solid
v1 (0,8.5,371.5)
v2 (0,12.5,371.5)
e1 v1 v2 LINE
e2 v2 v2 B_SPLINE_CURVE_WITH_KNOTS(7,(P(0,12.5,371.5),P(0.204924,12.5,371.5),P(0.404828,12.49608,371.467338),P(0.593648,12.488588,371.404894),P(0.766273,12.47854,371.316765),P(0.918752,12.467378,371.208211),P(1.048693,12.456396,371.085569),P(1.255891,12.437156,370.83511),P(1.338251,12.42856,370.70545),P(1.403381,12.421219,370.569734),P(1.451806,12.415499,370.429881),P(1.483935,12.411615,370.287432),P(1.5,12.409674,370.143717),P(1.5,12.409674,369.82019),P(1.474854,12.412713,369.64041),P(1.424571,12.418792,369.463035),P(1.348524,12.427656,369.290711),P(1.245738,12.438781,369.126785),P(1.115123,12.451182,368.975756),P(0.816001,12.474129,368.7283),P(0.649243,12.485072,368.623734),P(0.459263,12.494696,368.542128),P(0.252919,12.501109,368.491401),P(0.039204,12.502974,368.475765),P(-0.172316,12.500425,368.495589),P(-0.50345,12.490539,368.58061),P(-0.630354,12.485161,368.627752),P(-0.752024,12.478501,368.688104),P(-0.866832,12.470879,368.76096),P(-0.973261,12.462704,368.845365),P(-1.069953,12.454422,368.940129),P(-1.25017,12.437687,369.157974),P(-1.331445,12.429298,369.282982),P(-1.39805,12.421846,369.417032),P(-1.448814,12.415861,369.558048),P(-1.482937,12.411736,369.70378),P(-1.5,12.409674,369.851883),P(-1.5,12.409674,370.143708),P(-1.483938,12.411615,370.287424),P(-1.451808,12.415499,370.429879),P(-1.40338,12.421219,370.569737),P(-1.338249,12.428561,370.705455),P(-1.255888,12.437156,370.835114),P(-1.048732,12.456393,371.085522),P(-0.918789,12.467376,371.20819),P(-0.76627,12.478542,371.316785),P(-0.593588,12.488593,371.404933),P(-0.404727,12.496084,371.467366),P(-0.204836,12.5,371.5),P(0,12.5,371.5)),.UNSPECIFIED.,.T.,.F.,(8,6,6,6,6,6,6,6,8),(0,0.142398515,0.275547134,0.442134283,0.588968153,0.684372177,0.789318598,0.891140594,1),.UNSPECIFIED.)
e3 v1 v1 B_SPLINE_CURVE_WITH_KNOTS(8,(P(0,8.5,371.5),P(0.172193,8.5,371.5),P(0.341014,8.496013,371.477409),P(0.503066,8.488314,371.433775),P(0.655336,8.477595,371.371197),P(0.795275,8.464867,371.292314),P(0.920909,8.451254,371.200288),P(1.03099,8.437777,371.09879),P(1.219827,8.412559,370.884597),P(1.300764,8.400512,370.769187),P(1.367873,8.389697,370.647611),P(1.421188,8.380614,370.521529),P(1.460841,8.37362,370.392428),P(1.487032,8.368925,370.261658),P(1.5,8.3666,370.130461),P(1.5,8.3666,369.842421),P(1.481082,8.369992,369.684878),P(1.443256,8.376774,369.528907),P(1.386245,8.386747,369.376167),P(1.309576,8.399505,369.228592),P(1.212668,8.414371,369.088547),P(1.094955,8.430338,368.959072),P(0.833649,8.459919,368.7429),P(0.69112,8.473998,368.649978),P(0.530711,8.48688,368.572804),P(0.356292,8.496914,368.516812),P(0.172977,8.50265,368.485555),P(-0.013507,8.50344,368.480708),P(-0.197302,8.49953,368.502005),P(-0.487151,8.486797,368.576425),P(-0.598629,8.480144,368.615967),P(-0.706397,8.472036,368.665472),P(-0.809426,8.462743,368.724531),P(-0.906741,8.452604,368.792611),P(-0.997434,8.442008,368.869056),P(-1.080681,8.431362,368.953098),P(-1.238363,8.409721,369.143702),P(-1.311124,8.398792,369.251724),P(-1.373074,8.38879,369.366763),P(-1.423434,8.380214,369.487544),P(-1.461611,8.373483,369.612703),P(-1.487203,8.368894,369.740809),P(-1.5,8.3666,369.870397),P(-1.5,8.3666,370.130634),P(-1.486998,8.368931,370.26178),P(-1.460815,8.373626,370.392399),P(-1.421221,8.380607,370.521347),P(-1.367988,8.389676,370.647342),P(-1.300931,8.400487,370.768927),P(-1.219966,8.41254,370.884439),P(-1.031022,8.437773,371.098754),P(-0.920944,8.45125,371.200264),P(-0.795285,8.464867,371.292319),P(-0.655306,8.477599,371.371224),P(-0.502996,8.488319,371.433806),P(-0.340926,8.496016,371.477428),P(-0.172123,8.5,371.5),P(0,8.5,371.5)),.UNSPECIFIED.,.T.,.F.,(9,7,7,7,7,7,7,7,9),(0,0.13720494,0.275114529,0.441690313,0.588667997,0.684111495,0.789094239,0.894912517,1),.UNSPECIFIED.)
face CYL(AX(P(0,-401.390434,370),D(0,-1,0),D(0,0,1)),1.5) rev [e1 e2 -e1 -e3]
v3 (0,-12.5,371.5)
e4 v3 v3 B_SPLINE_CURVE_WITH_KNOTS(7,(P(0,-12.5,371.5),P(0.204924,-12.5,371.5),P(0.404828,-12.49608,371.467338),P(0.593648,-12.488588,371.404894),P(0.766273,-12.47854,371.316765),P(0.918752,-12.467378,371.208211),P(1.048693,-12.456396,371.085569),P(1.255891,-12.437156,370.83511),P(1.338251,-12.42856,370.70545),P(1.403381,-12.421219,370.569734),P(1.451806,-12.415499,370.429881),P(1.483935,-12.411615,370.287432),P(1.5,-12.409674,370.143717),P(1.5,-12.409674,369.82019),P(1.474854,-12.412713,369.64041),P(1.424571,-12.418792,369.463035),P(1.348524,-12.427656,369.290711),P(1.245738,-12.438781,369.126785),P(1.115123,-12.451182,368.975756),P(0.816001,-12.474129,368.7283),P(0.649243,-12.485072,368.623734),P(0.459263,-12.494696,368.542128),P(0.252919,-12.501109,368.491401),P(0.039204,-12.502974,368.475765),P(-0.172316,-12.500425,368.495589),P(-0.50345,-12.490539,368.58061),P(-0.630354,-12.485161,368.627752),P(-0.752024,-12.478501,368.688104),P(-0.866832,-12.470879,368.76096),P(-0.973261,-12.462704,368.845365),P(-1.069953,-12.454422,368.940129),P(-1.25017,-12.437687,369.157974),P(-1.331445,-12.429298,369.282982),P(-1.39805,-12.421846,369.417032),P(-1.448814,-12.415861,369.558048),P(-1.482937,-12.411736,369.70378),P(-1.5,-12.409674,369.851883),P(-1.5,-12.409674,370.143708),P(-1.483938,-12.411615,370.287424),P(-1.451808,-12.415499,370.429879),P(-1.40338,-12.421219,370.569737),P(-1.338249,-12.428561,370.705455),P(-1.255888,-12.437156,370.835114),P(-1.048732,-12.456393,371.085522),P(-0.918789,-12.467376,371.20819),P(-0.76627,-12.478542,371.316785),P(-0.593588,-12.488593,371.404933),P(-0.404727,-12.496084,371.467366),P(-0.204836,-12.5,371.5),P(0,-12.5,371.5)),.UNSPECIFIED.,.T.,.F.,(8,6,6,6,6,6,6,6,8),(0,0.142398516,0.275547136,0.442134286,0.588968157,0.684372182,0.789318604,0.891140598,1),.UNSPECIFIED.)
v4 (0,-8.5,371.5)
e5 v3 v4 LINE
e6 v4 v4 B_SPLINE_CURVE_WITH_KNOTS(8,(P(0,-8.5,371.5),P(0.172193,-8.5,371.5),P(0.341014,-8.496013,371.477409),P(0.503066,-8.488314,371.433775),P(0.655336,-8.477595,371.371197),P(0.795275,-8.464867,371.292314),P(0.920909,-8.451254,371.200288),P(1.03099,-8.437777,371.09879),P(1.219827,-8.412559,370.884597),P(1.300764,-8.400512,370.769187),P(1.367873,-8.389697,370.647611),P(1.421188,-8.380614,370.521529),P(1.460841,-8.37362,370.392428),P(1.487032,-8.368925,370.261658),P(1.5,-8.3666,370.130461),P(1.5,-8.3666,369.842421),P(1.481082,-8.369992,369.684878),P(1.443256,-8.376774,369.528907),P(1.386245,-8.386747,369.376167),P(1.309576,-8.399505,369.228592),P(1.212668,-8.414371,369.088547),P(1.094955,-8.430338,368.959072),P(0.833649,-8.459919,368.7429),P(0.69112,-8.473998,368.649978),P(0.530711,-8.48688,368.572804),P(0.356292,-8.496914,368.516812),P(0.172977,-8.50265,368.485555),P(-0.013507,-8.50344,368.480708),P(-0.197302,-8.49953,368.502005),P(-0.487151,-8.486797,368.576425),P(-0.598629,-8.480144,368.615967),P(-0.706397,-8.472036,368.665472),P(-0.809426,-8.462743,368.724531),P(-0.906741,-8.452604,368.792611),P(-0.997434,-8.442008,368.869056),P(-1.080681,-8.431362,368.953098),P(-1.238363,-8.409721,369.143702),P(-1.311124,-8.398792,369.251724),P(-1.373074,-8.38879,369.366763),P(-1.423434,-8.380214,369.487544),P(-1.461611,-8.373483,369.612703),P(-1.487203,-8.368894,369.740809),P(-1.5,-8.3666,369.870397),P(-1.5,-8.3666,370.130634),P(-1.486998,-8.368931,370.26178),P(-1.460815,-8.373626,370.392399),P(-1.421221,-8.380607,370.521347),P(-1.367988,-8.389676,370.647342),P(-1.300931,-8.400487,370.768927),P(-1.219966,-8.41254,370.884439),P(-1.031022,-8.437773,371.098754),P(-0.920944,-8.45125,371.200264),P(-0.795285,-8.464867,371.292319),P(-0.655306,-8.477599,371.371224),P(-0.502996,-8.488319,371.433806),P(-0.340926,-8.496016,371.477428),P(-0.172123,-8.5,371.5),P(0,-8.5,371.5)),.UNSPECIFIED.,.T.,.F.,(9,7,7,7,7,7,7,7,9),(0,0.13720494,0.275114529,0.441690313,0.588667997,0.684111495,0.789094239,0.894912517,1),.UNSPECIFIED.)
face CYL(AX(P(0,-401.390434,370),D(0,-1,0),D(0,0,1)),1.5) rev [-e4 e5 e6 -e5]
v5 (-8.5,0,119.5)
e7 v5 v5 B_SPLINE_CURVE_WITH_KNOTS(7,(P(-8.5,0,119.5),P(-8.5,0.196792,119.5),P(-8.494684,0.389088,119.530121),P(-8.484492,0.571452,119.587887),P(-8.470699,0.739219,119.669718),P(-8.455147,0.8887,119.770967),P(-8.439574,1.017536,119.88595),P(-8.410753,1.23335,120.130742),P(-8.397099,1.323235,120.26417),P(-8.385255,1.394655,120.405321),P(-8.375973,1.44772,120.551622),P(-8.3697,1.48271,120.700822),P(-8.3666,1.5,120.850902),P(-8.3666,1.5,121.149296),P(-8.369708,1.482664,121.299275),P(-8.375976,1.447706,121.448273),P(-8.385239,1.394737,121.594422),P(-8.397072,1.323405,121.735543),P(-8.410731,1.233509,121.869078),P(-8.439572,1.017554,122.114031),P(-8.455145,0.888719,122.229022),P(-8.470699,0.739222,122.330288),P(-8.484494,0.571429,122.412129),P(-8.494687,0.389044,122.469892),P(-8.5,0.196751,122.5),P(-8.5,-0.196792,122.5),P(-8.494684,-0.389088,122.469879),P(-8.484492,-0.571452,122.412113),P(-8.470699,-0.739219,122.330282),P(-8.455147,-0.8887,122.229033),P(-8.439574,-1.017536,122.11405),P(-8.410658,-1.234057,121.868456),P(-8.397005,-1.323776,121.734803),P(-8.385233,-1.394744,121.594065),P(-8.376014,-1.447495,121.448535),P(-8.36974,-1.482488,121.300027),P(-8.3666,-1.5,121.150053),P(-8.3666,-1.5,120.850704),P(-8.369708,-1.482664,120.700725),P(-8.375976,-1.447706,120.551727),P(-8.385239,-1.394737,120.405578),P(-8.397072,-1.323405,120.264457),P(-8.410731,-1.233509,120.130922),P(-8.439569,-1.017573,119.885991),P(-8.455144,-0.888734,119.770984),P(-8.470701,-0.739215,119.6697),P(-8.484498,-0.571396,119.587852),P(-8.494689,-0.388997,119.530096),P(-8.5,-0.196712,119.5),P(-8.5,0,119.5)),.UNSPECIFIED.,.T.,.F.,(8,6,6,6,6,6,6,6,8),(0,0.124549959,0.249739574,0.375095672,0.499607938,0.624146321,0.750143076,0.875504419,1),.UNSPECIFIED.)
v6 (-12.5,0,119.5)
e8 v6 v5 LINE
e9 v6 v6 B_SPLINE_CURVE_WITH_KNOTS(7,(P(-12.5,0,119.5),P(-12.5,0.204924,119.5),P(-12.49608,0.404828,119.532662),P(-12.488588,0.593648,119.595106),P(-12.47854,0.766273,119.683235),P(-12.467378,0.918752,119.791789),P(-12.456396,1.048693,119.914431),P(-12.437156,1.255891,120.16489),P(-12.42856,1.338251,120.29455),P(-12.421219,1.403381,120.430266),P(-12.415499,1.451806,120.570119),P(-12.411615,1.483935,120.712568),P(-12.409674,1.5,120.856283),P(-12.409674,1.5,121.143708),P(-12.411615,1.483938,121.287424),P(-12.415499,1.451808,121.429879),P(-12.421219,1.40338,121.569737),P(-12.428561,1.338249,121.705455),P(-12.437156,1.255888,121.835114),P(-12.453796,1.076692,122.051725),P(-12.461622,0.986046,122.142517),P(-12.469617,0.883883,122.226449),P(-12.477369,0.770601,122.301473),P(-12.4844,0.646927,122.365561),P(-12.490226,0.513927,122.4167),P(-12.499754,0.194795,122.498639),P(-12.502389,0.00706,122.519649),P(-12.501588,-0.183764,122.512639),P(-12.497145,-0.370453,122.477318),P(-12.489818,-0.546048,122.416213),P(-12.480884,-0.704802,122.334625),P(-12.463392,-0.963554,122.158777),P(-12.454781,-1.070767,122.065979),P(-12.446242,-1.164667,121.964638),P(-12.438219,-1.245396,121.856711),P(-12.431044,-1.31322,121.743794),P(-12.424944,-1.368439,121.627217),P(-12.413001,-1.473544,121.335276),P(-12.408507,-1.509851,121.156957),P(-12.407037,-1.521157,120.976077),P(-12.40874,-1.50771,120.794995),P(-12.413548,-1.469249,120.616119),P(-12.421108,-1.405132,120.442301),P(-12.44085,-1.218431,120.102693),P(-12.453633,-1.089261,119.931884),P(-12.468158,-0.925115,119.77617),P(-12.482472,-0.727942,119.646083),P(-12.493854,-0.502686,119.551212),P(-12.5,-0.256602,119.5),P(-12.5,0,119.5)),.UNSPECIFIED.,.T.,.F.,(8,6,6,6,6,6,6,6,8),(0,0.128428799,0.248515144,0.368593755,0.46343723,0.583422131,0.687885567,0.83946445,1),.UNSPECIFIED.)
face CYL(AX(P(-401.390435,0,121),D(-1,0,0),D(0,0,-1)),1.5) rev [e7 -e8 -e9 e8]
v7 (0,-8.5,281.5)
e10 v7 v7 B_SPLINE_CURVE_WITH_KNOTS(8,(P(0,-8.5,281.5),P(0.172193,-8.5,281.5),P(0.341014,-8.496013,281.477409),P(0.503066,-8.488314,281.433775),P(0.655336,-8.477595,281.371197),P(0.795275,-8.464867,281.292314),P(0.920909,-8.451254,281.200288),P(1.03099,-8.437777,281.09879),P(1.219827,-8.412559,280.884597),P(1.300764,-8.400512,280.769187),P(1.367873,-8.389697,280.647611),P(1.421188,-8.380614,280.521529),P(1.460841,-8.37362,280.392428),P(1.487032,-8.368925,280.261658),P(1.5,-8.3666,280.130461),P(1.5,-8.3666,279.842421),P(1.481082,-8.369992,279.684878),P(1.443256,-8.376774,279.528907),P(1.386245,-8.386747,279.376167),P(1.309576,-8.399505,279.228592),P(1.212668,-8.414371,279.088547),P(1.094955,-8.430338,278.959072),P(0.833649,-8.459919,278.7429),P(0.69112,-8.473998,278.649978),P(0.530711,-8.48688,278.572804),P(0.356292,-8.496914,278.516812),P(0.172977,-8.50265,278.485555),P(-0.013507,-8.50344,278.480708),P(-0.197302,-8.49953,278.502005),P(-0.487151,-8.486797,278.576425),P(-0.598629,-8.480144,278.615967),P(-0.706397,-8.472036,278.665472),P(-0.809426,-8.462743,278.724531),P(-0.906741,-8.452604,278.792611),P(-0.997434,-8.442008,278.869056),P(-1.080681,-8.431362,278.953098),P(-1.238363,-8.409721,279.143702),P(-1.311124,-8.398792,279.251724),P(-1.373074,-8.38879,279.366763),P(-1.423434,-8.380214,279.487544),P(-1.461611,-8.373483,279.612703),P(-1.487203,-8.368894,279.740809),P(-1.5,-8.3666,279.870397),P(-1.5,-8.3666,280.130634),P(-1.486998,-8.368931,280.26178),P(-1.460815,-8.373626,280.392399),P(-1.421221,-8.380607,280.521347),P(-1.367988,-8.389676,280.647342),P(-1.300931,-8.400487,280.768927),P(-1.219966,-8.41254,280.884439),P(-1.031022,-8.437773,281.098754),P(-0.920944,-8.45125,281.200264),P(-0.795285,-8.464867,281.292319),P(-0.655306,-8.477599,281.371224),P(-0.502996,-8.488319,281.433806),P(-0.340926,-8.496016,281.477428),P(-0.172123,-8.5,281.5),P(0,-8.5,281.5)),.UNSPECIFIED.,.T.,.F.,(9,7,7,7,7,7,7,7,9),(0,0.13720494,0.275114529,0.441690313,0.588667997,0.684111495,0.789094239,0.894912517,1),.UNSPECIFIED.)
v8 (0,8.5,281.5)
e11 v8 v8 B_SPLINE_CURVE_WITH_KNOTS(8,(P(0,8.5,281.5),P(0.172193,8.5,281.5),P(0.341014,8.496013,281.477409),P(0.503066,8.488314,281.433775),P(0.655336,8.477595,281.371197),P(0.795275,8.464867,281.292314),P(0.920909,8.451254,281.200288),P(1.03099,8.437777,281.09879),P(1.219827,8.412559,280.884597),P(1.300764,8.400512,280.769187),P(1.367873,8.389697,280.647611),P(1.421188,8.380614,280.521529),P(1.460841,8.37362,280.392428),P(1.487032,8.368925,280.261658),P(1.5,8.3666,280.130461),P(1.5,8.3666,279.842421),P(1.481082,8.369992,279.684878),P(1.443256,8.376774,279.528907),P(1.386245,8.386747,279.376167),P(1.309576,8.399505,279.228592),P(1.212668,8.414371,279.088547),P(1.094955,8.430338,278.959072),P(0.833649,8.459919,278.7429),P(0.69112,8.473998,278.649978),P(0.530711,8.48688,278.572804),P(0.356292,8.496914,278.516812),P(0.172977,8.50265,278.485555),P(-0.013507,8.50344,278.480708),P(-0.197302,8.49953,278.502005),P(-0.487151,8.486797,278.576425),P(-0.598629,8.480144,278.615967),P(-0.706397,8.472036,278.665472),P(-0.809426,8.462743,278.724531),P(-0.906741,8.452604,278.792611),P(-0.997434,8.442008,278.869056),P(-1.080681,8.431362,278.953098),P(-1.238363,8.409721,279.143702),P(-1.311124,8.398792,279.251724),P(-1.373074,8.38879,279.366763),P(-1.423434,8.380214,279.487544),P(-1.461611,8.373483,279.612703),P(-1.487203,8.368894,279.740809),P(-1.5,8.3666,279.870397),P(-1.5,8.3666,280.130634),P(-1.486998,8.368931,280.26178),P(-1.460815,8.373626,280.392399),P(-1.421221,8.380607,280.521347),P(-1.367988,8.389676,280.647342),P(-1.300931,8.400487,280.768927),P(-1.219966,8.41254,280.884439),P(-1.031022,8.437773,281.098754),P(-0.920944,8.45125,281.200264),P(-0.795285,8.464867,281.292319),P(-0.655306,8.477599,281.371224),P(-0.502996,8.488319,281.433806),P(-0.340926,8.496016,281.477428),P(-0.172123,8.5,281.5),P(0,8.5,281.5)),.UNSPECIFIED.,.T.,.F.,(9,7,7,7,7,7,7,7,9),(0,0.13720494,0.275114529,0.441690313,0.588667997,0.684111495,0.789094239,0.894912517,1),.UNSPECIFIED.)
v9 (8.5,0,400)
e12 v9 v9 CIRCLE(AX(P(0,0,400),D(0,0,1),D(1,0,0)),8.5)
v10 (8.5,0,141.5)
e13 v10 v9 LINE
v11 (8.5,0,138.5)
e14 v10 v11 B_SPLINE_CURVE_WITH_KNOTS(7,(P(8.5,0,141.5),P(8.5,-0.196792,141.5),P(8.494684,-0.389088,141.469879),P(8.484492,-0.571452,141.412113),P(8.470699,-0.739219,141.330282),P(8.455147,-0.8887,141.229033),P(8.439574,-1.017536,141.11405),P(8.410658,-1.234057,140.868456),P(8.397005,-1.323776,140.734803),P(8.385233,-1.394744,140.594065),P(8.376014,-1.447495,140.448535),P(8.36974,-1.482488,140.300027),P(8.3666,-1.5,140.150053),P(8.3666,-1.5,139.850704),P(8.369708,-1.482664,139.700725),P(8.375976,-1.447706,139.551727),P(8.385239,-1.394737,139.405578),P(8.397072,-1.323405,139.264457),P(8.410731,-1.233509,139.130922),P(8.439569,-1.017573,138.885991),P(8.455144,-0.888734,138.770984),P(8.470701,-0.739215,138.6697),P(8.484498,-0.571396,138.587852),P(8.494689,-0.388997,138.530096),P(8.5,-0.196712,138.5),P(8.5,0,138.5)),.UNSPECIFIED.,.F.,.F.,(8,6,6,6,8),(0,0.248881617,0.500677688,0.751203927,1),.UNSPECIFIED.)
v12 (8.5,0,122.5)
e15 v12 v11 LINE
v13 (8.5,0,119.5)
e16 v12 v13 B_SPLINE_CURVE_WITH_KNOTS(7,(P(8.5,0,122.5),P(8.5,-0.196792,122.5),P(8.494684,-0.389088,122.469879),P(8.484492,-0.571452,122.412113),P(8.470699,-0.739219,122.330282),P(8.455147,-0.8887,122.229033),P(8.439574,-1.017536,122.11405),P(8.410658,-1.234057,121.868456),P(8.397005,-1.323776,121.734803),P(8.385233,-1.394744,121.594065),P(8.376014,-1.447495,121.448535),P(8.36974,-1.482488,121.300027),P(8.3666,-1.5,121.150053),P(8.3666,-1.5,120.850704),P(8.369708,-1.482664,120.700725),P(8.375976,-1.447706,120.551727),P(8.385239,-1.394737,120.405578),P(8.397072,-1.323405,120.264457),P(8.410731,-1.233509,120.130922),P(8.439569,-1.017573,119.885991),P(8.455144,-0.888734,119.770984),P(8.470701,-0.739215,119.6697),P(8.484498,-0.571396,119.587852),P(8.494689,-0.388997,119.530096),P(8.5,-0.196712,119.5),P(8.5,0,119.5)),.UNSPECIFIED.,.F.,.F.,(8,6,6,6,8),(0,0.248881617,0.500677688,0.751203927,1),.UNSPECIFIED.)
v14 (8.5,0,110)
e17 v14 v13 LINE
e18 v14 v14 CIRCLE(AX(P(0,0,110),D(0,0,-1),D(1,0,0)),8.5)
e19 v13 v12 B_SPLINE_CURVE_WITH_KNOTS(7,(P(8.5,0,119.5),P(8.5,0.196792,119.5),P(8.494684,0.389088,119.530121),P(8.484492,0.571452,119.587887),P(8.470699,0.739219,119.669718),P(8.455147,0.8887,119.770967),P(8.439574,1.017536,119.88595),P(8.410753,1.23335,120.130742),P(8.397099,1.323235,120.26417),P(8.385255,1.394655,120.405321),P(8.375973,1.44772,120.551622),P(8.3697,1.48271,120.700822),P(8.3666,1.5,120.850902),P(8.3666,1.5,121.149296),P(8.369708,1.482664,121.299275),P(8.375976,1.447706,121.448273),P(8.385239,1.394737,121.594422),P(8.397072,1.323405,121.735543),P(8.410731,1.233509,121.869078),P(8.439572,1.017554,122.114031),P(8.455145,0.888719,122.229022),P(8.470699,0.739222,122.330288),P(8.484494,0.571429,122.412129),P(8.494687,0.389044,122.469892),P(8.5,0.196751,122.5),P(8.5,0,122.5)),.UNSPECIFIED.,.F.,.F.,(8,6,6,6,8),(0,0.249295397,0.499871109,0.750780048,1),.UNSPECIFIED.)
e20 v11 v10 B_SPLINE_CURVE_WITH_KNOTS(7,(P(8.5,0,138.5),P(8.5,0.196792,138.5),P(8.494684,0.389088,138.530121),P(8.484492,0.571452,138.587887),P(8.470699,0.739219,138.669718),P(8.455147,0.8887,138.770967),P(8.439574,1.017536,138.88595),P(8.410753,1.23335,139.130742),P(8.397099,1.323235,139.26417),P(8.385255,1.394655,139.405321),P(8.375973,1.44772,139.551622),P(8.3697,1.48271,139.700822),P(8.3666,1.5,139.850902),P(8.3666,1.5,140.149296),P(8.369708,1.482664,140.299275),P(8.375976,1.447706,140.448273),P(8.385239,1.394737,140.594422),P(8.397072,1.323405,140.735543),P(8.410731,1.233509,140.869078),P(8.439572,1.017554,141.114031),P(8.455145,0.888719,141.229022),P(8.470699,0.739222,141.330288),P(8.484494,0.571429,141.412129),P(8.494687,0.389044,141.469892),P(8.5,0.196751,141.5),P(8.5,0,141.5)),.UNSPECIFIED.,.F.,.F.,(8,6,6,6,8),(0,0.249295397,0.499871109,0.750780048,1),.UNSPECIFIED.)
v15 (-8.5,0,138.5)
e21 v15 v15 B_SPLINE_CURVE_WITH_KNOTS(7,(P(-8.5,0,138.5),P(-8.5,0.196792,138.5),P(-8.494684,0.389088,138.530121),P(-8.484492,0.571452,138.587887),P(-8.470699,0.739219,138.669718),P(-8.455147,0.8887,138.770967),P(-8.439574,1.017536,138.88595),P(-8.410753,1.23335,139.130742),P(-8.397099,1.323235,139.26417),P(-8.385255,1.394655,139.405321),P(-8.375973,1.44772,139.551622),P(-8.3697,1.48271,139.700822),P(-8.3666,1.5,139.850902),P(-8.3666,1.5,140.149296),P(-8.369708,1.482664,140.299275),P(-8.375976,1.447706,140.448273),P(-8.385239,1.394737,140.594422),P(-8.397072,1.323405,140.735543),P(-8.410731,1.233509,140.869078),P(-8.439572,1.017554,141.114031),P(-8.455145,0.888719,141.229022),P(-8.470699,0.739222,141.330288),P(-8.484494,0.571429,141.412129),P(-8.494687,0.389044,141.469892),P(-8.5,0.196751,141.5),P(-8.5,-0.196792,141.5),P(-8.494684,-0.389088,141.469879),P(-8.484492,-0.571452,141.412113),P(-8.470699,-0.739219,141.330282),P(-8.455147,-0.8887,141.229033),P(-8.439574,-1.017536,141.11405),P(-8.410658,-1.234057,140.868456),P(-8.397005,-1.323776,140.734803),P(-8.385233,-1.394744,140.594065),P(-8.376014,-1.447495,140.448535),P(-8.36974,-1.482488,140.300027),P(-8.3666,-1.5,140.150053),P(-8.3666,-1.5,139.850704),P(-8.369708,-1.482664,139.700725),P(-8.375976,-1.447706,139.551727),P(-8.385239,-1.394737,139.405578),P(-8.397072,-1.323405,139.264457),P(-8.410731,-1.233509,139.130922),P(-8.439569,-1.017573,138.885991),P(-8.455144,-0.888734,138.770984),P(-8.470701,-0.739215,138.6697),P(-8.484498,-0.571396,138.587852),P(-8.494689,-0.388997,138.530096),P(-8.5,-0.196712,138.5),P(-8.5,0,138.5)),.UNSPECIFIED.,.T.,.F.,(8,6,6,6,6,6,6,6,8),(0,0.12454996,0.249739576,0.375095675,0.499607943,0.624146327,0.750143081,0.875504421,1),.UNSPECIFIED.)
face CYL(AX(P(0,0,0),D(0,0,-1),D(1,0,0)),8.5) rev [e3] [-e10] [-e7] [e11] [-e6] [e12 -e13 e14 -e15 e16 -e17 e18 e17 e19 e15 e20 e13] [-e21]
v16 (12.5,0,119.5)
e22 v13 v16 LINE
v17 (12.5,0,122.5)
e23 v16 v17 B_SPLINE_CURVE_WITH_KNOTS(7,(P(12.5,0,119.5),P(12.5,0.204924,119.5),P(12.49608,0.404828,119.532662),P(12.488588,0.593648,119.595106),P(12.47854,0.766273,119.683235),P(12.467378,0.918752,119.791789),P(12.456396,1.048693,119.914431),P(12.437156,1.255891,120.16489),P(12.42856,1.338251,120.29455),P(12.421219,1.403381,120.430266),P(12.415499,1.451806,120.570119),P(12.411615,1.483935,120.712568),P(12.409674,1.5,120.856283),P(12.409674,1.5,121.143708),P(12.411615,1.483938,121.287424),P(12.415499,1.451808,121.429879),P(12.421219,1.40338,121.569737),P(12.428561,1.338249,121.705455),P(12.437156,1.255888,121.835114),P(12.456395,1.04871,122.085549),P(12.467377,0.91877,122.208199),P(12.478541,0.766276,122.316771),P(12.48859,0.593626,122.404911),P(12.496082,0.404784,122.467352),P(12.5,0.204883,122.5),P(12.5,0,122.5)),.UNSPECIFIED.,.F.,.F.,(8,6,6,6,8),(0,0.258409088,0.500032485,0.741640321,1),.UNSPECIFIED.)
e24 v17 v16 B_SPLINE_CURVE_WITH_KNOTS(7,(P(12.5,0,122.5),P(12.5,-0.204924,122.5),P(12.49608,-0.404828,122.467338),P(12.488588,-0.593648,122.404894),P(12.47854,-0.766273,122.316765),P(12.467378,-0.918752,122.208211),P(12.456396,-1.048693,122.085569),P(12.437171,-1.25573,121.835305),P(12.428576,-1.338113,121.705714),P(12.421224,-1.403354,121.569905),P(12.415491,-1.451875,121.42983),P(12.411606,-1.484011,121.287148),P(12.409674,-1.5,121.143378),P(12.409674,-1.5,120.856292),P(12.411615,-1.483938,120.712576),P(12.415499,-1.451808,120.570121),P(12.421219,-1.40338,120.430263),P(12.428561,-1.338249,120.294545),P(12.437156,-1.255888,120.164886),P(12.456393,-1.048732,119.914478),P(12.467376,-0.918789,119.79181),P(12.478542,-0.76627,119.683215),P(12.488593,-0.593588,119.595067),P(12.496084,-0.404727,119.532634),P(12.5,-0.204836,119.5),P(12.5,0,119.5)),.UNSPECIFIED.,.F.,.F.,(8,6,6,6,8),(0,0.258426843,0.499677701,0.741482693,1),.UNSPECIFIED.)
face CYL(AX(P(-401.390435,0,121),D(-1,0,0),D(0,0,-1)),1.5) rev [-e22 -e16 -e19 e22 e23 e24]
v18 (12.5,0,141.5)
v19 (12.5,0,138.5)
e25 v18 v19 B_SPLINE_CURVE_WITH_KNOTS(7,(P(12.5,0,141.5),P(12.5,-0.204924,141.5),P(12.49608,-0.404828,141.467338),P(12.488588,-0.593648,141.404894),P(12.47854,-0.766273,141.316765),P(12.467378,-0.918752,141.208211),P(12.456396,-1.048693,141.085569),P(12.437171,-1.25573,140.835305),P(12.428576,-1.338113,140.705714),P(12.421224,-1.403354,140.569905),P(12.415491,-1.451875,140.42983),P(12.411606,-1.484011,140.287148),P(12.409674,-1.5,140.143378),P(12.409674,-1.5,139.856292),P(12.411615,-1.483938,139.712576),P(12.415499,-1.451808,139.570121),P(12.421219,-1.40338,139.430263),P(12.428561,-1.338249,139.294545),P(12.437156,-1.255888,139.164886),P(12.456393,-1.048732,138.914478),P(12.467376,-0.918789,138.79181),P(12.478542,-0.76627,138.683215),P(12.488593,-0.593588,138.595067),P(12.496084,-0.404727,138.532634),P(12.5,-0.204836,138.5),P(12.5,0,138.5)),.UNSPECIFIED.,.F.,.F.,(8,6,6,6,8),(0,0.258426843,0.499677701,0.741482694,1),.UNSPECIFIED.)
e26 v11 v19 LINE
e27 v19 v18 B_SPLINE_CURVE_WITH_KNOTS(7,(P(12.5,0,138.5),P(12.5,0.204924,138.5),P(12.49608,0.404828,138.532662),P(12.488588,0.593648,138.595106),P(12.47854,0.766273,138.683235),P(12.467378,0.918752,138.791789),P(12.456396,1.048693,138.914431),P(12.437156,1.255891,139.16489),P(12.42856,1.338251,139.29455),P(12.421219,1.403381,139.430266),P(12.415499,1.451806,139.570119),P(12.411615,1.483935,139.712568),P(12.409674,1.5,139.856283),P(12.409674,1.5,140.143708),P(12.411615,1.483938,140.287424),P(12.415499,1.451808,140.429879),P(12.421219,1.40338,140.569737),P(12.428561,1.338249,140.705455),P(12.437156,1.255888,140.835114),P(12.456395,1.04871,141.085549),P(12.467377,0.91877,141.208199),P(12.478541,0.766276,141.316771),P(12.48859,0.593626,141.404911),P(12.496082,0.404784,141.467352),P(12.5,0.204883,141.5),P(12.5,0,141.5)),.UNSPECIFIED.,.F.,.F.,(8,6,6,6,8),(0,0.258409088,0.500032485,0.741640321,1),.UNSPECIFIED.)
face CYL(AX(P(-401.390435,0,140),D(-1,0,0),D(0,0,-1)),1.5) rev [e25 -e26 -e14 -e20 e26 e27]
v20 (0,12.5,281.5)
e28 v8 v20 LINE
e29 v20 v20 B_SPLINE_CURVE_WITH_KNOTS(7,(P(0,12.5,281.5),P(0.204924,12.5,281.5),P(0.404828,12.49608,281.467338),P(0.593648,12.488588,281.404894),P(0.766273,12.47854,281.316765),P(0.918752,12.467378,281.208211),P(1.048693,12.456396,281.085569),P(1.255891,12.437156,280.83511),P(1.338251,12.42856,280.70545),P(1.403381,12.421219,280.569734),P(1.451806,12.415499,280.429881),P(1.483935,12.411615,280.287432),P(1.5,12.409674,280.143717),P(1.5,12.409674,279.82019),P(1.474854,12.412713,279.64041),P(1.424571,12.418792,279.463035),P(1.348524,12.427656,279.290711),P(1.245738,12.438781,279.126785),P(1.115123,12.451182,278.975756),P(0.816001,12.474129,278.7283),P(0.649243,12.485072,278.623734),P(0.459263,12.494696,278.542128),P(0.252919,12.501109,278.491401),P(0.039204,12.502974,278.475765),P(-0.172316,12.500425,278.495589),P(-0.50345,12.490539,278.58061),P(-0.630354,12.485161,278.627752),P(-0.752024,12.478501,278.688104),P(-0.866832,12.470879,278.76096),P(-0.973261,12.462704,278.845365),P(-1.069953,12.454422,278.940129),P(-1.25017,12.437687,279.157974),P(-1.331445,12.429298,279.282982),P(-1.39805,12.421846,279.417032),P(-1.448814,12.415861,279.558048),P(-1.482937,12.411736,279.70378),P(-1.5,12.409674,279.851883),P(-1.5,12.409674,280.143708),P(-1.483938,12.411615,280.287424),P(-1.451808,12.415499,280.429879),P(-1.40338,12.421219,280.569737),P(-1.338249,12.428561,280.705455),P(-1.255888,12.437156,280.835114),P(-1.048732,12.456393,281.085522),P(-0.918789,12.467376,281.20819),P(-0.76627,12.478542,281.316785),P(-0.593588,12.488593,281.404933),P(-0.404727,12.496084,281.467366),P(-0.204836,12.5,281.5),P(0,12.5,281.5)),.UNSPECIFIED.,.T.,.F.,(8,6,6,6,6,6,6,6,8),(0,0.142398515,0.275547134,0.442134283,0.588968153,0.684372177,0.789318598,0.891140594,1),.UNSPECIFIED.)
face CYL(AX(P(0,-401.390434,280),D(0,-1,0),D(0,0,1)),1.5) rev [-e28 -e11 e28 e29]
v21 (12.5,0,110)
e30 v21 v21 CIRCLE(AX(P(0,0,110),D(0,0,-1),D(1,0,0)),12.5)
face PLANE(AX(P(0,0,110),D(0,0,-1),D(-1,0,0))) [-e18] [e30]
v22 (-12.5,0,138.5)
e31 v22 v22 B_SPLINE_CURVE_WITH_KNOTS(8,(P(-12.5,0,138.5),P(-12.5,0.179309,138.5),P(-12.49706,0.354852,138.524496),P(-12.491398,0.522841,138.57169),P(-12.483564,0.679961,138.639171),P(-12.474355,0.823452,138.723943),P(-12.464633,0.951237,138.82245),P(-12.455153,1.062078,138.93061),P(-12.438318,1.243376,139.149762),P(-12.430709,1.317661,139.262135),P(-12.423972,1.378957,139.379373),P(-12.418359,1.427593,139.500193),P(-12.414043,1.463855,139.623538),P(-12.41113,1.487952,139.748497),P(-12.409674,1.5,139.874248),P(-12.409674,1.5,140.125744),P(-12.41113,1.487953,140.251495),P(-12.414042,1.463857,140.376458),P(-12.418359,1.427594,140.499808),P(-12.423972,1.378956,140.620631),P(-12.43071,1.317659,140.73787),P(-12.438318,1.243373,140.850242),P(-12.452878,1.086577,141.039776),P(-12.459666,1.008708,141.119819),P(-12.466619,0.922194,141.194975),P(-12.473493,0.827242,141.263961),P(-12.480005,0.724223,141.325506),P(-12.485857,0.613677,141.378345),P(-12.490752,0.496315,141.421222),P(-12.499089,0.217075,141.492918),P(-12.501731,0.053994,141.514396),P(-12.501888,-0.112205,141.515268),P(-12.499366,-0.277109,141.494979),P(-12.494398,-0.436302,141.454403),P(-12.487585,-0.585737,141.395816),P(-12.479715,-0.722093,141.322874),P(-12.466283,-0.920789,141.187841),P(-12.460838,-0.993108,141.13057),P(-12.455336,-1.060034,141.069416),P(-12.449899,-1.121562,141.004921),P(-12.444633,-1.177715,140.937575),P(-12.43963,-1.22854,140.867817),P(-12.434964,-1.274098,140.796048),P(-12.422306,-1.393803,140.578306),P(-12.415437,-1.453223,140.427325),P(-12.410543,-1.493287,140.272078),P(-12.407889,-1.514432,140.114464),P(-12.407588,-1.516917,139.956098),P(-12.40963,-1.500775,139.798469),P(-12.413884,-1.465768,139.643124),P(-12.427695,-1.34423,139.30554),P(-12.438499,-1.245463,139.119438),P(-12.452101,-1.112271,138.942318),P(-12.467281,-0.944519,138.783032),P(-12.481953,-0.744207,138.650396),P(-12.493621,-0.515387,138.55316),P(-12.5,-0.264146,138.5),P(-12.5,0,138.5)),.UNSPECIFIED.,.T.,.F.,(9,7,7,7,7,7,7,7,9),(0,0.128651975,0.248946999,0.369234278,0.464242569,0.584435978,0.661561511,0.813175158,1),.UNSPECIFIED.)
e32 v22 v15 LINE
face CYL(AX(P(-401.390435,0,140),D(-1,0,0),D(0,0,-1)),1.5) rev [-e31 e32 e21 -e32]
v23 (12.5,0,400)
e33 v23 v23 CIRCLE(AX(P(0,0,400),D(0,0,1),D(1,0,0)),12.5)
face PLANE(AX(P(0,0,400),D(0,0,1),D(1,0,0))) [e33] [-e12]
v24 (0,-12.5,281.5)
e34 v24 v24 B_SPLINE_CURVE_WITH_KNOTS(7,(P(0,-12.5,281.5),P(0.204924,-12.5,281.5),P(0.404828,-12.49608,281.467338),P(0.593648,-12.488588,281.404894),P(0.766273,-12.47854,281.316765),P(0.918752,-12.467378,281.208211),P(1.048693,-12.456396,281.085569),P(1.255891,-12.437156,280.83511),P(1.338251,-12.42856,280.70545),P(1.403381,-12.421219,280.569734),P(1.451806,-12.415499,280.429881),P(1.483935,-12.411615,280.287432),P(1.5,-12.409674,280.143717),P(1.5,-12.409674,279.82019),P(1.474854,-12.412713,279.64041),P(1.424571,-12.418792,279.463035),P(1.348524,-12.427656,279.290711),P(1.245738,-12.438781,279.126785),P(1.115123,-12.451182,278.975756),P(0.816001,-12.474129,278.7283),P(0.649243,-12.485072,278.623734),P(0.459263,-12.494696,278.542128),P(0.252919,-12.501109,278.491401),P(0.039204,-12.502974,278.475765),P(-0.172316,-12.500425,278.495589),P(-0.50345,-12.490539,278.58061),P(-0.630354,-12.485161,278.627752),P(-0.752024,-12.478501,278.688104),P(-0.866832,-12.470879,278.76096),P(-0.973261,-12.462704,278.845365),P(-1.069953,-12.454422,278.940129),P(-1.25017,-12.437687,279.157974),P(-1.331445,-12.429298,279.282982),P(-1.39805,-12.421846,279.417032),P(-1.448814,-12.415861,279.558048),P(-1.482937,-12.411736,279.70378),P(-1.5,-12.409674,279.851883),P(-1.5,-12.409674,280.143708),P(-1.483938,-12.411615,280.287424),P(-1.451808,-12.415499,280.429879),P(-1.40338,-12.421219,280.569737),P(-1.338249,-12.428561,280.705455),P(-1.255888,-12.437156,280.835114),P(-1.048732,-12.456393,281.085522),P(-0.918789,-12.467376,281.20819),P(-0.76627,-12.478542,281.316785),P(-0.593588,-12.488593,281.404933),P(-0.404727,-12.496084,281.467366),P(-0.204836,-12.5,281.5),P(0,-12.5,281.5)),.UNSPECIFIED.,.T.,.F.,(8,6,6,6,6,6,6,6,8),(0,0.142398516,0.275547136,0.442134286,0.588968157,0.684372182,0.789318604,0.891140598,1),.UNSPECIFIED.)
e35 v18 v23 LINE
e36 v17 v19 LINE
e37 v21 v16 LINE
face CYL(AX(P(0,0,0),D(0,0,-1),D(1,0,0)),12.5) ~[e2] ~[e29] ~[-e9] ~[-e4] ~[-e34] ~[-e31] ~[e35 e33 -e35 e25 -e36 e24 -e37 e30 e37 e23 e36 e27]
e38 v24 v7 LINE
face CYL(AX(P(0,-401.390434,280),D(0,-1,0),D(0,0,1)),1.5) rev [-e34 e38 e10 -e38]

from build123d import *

# Parameters (mm, degrees)
SKETCH1_R               = 12.5
SKETCH1_R_2             = 8.5
BOSS_EXTRUDE1_DEPTH     = 400
CUT_EXTRUDE1_DEPTH      = 401.390434451
CUT_EXTRUDE1_DEPTH_BACK = 401.390434451
SKETCH2_R               = 1.5
CUT_EXTRUDE2_DEPTH      = 401.390434558
CUT_EXTRUDE2_DEPTH_BACK = 401.390434558
SKETCH3_R               = 1.5
CUT_EXTRUDE3_DEPTH      = 401.390434559
CUT_EXTRUDE3_DEPTH_BACK = 110
SKETCH4_R               = 16.409503563


with BuildPart() as part:
    # Sketch1 → Boss-Extrude1 (new body)
    with BuildSketch(Plane.XY):
        Circle(SKETCH1_R)
        Circle(SKETCH1_R_2, mode=Mode.SUBTRACT)
    extrude(amount=BOSS_EXTRUDE1_DEPTH)

    # Sketch2 → Cut-Extrude1 (cut, two sides: drawn at the far end of the back side and taken through both)
    with BuildSketch(Plane(origin=(0, 0, 0), x_dir=(1, 0, 0), z_dir=(0, 1, 0)).offset(-CUT_EXTRUDE1_DEPTH_BACK)):
        with Locations(Location((0, -370, 0), (0, 0, 270))):
            Circle(SKETCH2_R)
        with Locations(Location((0, -280, 0), (0, 0, 270))):
            Circle(SKETCH2_R)
    extrude(amount=CUT_EXTRUDE1_DEPTH + CUT_EXTRUDE1_DEPTH_BACK, mode=Mode.SUBTRACT)

    # Sketch3 → Cut-Extrude2 (cut, two sides: drawn at the far end of the back side and taken through both)
    with BuildSketch(Plane(origin=(0, 0, 0), x_dir=(0, 0, -1), z_dir=(1, 0, 0)).offset(-CUT_EXTRUDE2_DEPTH_BACK)):
        with Locations((-121, 0)):
            Circle(SKETCH3_R)
        with Locations((-140, 0)):
            Circle(SKETCH3_R)
    extrude(amount=CUT_EXTRUDE2_DEPTH + CUT_EXTRUDE2_DEPTH_BACK, mode=Mode.SUBTRACT)

    # Sketch4 → Cut-Extrude3 (cut, two sides: drawn at the far end of the back side and taken through both)
    with BuildSketch(Plane(origin=(0, 0, 0), x_dir=(-1, 0, 0), z_dir=(0, 0, -1)).offset(-CUT_EXTRUDE3_DEPTH_BACK)):
        Circle(SKETCH4_R)
    extrude(amount=CUT_EXTRUDE3_DEPTH + CUT_EXTRUDE3_DEPTH_BACK, mode=Mode.SUBTRACT)


solid = part.part
